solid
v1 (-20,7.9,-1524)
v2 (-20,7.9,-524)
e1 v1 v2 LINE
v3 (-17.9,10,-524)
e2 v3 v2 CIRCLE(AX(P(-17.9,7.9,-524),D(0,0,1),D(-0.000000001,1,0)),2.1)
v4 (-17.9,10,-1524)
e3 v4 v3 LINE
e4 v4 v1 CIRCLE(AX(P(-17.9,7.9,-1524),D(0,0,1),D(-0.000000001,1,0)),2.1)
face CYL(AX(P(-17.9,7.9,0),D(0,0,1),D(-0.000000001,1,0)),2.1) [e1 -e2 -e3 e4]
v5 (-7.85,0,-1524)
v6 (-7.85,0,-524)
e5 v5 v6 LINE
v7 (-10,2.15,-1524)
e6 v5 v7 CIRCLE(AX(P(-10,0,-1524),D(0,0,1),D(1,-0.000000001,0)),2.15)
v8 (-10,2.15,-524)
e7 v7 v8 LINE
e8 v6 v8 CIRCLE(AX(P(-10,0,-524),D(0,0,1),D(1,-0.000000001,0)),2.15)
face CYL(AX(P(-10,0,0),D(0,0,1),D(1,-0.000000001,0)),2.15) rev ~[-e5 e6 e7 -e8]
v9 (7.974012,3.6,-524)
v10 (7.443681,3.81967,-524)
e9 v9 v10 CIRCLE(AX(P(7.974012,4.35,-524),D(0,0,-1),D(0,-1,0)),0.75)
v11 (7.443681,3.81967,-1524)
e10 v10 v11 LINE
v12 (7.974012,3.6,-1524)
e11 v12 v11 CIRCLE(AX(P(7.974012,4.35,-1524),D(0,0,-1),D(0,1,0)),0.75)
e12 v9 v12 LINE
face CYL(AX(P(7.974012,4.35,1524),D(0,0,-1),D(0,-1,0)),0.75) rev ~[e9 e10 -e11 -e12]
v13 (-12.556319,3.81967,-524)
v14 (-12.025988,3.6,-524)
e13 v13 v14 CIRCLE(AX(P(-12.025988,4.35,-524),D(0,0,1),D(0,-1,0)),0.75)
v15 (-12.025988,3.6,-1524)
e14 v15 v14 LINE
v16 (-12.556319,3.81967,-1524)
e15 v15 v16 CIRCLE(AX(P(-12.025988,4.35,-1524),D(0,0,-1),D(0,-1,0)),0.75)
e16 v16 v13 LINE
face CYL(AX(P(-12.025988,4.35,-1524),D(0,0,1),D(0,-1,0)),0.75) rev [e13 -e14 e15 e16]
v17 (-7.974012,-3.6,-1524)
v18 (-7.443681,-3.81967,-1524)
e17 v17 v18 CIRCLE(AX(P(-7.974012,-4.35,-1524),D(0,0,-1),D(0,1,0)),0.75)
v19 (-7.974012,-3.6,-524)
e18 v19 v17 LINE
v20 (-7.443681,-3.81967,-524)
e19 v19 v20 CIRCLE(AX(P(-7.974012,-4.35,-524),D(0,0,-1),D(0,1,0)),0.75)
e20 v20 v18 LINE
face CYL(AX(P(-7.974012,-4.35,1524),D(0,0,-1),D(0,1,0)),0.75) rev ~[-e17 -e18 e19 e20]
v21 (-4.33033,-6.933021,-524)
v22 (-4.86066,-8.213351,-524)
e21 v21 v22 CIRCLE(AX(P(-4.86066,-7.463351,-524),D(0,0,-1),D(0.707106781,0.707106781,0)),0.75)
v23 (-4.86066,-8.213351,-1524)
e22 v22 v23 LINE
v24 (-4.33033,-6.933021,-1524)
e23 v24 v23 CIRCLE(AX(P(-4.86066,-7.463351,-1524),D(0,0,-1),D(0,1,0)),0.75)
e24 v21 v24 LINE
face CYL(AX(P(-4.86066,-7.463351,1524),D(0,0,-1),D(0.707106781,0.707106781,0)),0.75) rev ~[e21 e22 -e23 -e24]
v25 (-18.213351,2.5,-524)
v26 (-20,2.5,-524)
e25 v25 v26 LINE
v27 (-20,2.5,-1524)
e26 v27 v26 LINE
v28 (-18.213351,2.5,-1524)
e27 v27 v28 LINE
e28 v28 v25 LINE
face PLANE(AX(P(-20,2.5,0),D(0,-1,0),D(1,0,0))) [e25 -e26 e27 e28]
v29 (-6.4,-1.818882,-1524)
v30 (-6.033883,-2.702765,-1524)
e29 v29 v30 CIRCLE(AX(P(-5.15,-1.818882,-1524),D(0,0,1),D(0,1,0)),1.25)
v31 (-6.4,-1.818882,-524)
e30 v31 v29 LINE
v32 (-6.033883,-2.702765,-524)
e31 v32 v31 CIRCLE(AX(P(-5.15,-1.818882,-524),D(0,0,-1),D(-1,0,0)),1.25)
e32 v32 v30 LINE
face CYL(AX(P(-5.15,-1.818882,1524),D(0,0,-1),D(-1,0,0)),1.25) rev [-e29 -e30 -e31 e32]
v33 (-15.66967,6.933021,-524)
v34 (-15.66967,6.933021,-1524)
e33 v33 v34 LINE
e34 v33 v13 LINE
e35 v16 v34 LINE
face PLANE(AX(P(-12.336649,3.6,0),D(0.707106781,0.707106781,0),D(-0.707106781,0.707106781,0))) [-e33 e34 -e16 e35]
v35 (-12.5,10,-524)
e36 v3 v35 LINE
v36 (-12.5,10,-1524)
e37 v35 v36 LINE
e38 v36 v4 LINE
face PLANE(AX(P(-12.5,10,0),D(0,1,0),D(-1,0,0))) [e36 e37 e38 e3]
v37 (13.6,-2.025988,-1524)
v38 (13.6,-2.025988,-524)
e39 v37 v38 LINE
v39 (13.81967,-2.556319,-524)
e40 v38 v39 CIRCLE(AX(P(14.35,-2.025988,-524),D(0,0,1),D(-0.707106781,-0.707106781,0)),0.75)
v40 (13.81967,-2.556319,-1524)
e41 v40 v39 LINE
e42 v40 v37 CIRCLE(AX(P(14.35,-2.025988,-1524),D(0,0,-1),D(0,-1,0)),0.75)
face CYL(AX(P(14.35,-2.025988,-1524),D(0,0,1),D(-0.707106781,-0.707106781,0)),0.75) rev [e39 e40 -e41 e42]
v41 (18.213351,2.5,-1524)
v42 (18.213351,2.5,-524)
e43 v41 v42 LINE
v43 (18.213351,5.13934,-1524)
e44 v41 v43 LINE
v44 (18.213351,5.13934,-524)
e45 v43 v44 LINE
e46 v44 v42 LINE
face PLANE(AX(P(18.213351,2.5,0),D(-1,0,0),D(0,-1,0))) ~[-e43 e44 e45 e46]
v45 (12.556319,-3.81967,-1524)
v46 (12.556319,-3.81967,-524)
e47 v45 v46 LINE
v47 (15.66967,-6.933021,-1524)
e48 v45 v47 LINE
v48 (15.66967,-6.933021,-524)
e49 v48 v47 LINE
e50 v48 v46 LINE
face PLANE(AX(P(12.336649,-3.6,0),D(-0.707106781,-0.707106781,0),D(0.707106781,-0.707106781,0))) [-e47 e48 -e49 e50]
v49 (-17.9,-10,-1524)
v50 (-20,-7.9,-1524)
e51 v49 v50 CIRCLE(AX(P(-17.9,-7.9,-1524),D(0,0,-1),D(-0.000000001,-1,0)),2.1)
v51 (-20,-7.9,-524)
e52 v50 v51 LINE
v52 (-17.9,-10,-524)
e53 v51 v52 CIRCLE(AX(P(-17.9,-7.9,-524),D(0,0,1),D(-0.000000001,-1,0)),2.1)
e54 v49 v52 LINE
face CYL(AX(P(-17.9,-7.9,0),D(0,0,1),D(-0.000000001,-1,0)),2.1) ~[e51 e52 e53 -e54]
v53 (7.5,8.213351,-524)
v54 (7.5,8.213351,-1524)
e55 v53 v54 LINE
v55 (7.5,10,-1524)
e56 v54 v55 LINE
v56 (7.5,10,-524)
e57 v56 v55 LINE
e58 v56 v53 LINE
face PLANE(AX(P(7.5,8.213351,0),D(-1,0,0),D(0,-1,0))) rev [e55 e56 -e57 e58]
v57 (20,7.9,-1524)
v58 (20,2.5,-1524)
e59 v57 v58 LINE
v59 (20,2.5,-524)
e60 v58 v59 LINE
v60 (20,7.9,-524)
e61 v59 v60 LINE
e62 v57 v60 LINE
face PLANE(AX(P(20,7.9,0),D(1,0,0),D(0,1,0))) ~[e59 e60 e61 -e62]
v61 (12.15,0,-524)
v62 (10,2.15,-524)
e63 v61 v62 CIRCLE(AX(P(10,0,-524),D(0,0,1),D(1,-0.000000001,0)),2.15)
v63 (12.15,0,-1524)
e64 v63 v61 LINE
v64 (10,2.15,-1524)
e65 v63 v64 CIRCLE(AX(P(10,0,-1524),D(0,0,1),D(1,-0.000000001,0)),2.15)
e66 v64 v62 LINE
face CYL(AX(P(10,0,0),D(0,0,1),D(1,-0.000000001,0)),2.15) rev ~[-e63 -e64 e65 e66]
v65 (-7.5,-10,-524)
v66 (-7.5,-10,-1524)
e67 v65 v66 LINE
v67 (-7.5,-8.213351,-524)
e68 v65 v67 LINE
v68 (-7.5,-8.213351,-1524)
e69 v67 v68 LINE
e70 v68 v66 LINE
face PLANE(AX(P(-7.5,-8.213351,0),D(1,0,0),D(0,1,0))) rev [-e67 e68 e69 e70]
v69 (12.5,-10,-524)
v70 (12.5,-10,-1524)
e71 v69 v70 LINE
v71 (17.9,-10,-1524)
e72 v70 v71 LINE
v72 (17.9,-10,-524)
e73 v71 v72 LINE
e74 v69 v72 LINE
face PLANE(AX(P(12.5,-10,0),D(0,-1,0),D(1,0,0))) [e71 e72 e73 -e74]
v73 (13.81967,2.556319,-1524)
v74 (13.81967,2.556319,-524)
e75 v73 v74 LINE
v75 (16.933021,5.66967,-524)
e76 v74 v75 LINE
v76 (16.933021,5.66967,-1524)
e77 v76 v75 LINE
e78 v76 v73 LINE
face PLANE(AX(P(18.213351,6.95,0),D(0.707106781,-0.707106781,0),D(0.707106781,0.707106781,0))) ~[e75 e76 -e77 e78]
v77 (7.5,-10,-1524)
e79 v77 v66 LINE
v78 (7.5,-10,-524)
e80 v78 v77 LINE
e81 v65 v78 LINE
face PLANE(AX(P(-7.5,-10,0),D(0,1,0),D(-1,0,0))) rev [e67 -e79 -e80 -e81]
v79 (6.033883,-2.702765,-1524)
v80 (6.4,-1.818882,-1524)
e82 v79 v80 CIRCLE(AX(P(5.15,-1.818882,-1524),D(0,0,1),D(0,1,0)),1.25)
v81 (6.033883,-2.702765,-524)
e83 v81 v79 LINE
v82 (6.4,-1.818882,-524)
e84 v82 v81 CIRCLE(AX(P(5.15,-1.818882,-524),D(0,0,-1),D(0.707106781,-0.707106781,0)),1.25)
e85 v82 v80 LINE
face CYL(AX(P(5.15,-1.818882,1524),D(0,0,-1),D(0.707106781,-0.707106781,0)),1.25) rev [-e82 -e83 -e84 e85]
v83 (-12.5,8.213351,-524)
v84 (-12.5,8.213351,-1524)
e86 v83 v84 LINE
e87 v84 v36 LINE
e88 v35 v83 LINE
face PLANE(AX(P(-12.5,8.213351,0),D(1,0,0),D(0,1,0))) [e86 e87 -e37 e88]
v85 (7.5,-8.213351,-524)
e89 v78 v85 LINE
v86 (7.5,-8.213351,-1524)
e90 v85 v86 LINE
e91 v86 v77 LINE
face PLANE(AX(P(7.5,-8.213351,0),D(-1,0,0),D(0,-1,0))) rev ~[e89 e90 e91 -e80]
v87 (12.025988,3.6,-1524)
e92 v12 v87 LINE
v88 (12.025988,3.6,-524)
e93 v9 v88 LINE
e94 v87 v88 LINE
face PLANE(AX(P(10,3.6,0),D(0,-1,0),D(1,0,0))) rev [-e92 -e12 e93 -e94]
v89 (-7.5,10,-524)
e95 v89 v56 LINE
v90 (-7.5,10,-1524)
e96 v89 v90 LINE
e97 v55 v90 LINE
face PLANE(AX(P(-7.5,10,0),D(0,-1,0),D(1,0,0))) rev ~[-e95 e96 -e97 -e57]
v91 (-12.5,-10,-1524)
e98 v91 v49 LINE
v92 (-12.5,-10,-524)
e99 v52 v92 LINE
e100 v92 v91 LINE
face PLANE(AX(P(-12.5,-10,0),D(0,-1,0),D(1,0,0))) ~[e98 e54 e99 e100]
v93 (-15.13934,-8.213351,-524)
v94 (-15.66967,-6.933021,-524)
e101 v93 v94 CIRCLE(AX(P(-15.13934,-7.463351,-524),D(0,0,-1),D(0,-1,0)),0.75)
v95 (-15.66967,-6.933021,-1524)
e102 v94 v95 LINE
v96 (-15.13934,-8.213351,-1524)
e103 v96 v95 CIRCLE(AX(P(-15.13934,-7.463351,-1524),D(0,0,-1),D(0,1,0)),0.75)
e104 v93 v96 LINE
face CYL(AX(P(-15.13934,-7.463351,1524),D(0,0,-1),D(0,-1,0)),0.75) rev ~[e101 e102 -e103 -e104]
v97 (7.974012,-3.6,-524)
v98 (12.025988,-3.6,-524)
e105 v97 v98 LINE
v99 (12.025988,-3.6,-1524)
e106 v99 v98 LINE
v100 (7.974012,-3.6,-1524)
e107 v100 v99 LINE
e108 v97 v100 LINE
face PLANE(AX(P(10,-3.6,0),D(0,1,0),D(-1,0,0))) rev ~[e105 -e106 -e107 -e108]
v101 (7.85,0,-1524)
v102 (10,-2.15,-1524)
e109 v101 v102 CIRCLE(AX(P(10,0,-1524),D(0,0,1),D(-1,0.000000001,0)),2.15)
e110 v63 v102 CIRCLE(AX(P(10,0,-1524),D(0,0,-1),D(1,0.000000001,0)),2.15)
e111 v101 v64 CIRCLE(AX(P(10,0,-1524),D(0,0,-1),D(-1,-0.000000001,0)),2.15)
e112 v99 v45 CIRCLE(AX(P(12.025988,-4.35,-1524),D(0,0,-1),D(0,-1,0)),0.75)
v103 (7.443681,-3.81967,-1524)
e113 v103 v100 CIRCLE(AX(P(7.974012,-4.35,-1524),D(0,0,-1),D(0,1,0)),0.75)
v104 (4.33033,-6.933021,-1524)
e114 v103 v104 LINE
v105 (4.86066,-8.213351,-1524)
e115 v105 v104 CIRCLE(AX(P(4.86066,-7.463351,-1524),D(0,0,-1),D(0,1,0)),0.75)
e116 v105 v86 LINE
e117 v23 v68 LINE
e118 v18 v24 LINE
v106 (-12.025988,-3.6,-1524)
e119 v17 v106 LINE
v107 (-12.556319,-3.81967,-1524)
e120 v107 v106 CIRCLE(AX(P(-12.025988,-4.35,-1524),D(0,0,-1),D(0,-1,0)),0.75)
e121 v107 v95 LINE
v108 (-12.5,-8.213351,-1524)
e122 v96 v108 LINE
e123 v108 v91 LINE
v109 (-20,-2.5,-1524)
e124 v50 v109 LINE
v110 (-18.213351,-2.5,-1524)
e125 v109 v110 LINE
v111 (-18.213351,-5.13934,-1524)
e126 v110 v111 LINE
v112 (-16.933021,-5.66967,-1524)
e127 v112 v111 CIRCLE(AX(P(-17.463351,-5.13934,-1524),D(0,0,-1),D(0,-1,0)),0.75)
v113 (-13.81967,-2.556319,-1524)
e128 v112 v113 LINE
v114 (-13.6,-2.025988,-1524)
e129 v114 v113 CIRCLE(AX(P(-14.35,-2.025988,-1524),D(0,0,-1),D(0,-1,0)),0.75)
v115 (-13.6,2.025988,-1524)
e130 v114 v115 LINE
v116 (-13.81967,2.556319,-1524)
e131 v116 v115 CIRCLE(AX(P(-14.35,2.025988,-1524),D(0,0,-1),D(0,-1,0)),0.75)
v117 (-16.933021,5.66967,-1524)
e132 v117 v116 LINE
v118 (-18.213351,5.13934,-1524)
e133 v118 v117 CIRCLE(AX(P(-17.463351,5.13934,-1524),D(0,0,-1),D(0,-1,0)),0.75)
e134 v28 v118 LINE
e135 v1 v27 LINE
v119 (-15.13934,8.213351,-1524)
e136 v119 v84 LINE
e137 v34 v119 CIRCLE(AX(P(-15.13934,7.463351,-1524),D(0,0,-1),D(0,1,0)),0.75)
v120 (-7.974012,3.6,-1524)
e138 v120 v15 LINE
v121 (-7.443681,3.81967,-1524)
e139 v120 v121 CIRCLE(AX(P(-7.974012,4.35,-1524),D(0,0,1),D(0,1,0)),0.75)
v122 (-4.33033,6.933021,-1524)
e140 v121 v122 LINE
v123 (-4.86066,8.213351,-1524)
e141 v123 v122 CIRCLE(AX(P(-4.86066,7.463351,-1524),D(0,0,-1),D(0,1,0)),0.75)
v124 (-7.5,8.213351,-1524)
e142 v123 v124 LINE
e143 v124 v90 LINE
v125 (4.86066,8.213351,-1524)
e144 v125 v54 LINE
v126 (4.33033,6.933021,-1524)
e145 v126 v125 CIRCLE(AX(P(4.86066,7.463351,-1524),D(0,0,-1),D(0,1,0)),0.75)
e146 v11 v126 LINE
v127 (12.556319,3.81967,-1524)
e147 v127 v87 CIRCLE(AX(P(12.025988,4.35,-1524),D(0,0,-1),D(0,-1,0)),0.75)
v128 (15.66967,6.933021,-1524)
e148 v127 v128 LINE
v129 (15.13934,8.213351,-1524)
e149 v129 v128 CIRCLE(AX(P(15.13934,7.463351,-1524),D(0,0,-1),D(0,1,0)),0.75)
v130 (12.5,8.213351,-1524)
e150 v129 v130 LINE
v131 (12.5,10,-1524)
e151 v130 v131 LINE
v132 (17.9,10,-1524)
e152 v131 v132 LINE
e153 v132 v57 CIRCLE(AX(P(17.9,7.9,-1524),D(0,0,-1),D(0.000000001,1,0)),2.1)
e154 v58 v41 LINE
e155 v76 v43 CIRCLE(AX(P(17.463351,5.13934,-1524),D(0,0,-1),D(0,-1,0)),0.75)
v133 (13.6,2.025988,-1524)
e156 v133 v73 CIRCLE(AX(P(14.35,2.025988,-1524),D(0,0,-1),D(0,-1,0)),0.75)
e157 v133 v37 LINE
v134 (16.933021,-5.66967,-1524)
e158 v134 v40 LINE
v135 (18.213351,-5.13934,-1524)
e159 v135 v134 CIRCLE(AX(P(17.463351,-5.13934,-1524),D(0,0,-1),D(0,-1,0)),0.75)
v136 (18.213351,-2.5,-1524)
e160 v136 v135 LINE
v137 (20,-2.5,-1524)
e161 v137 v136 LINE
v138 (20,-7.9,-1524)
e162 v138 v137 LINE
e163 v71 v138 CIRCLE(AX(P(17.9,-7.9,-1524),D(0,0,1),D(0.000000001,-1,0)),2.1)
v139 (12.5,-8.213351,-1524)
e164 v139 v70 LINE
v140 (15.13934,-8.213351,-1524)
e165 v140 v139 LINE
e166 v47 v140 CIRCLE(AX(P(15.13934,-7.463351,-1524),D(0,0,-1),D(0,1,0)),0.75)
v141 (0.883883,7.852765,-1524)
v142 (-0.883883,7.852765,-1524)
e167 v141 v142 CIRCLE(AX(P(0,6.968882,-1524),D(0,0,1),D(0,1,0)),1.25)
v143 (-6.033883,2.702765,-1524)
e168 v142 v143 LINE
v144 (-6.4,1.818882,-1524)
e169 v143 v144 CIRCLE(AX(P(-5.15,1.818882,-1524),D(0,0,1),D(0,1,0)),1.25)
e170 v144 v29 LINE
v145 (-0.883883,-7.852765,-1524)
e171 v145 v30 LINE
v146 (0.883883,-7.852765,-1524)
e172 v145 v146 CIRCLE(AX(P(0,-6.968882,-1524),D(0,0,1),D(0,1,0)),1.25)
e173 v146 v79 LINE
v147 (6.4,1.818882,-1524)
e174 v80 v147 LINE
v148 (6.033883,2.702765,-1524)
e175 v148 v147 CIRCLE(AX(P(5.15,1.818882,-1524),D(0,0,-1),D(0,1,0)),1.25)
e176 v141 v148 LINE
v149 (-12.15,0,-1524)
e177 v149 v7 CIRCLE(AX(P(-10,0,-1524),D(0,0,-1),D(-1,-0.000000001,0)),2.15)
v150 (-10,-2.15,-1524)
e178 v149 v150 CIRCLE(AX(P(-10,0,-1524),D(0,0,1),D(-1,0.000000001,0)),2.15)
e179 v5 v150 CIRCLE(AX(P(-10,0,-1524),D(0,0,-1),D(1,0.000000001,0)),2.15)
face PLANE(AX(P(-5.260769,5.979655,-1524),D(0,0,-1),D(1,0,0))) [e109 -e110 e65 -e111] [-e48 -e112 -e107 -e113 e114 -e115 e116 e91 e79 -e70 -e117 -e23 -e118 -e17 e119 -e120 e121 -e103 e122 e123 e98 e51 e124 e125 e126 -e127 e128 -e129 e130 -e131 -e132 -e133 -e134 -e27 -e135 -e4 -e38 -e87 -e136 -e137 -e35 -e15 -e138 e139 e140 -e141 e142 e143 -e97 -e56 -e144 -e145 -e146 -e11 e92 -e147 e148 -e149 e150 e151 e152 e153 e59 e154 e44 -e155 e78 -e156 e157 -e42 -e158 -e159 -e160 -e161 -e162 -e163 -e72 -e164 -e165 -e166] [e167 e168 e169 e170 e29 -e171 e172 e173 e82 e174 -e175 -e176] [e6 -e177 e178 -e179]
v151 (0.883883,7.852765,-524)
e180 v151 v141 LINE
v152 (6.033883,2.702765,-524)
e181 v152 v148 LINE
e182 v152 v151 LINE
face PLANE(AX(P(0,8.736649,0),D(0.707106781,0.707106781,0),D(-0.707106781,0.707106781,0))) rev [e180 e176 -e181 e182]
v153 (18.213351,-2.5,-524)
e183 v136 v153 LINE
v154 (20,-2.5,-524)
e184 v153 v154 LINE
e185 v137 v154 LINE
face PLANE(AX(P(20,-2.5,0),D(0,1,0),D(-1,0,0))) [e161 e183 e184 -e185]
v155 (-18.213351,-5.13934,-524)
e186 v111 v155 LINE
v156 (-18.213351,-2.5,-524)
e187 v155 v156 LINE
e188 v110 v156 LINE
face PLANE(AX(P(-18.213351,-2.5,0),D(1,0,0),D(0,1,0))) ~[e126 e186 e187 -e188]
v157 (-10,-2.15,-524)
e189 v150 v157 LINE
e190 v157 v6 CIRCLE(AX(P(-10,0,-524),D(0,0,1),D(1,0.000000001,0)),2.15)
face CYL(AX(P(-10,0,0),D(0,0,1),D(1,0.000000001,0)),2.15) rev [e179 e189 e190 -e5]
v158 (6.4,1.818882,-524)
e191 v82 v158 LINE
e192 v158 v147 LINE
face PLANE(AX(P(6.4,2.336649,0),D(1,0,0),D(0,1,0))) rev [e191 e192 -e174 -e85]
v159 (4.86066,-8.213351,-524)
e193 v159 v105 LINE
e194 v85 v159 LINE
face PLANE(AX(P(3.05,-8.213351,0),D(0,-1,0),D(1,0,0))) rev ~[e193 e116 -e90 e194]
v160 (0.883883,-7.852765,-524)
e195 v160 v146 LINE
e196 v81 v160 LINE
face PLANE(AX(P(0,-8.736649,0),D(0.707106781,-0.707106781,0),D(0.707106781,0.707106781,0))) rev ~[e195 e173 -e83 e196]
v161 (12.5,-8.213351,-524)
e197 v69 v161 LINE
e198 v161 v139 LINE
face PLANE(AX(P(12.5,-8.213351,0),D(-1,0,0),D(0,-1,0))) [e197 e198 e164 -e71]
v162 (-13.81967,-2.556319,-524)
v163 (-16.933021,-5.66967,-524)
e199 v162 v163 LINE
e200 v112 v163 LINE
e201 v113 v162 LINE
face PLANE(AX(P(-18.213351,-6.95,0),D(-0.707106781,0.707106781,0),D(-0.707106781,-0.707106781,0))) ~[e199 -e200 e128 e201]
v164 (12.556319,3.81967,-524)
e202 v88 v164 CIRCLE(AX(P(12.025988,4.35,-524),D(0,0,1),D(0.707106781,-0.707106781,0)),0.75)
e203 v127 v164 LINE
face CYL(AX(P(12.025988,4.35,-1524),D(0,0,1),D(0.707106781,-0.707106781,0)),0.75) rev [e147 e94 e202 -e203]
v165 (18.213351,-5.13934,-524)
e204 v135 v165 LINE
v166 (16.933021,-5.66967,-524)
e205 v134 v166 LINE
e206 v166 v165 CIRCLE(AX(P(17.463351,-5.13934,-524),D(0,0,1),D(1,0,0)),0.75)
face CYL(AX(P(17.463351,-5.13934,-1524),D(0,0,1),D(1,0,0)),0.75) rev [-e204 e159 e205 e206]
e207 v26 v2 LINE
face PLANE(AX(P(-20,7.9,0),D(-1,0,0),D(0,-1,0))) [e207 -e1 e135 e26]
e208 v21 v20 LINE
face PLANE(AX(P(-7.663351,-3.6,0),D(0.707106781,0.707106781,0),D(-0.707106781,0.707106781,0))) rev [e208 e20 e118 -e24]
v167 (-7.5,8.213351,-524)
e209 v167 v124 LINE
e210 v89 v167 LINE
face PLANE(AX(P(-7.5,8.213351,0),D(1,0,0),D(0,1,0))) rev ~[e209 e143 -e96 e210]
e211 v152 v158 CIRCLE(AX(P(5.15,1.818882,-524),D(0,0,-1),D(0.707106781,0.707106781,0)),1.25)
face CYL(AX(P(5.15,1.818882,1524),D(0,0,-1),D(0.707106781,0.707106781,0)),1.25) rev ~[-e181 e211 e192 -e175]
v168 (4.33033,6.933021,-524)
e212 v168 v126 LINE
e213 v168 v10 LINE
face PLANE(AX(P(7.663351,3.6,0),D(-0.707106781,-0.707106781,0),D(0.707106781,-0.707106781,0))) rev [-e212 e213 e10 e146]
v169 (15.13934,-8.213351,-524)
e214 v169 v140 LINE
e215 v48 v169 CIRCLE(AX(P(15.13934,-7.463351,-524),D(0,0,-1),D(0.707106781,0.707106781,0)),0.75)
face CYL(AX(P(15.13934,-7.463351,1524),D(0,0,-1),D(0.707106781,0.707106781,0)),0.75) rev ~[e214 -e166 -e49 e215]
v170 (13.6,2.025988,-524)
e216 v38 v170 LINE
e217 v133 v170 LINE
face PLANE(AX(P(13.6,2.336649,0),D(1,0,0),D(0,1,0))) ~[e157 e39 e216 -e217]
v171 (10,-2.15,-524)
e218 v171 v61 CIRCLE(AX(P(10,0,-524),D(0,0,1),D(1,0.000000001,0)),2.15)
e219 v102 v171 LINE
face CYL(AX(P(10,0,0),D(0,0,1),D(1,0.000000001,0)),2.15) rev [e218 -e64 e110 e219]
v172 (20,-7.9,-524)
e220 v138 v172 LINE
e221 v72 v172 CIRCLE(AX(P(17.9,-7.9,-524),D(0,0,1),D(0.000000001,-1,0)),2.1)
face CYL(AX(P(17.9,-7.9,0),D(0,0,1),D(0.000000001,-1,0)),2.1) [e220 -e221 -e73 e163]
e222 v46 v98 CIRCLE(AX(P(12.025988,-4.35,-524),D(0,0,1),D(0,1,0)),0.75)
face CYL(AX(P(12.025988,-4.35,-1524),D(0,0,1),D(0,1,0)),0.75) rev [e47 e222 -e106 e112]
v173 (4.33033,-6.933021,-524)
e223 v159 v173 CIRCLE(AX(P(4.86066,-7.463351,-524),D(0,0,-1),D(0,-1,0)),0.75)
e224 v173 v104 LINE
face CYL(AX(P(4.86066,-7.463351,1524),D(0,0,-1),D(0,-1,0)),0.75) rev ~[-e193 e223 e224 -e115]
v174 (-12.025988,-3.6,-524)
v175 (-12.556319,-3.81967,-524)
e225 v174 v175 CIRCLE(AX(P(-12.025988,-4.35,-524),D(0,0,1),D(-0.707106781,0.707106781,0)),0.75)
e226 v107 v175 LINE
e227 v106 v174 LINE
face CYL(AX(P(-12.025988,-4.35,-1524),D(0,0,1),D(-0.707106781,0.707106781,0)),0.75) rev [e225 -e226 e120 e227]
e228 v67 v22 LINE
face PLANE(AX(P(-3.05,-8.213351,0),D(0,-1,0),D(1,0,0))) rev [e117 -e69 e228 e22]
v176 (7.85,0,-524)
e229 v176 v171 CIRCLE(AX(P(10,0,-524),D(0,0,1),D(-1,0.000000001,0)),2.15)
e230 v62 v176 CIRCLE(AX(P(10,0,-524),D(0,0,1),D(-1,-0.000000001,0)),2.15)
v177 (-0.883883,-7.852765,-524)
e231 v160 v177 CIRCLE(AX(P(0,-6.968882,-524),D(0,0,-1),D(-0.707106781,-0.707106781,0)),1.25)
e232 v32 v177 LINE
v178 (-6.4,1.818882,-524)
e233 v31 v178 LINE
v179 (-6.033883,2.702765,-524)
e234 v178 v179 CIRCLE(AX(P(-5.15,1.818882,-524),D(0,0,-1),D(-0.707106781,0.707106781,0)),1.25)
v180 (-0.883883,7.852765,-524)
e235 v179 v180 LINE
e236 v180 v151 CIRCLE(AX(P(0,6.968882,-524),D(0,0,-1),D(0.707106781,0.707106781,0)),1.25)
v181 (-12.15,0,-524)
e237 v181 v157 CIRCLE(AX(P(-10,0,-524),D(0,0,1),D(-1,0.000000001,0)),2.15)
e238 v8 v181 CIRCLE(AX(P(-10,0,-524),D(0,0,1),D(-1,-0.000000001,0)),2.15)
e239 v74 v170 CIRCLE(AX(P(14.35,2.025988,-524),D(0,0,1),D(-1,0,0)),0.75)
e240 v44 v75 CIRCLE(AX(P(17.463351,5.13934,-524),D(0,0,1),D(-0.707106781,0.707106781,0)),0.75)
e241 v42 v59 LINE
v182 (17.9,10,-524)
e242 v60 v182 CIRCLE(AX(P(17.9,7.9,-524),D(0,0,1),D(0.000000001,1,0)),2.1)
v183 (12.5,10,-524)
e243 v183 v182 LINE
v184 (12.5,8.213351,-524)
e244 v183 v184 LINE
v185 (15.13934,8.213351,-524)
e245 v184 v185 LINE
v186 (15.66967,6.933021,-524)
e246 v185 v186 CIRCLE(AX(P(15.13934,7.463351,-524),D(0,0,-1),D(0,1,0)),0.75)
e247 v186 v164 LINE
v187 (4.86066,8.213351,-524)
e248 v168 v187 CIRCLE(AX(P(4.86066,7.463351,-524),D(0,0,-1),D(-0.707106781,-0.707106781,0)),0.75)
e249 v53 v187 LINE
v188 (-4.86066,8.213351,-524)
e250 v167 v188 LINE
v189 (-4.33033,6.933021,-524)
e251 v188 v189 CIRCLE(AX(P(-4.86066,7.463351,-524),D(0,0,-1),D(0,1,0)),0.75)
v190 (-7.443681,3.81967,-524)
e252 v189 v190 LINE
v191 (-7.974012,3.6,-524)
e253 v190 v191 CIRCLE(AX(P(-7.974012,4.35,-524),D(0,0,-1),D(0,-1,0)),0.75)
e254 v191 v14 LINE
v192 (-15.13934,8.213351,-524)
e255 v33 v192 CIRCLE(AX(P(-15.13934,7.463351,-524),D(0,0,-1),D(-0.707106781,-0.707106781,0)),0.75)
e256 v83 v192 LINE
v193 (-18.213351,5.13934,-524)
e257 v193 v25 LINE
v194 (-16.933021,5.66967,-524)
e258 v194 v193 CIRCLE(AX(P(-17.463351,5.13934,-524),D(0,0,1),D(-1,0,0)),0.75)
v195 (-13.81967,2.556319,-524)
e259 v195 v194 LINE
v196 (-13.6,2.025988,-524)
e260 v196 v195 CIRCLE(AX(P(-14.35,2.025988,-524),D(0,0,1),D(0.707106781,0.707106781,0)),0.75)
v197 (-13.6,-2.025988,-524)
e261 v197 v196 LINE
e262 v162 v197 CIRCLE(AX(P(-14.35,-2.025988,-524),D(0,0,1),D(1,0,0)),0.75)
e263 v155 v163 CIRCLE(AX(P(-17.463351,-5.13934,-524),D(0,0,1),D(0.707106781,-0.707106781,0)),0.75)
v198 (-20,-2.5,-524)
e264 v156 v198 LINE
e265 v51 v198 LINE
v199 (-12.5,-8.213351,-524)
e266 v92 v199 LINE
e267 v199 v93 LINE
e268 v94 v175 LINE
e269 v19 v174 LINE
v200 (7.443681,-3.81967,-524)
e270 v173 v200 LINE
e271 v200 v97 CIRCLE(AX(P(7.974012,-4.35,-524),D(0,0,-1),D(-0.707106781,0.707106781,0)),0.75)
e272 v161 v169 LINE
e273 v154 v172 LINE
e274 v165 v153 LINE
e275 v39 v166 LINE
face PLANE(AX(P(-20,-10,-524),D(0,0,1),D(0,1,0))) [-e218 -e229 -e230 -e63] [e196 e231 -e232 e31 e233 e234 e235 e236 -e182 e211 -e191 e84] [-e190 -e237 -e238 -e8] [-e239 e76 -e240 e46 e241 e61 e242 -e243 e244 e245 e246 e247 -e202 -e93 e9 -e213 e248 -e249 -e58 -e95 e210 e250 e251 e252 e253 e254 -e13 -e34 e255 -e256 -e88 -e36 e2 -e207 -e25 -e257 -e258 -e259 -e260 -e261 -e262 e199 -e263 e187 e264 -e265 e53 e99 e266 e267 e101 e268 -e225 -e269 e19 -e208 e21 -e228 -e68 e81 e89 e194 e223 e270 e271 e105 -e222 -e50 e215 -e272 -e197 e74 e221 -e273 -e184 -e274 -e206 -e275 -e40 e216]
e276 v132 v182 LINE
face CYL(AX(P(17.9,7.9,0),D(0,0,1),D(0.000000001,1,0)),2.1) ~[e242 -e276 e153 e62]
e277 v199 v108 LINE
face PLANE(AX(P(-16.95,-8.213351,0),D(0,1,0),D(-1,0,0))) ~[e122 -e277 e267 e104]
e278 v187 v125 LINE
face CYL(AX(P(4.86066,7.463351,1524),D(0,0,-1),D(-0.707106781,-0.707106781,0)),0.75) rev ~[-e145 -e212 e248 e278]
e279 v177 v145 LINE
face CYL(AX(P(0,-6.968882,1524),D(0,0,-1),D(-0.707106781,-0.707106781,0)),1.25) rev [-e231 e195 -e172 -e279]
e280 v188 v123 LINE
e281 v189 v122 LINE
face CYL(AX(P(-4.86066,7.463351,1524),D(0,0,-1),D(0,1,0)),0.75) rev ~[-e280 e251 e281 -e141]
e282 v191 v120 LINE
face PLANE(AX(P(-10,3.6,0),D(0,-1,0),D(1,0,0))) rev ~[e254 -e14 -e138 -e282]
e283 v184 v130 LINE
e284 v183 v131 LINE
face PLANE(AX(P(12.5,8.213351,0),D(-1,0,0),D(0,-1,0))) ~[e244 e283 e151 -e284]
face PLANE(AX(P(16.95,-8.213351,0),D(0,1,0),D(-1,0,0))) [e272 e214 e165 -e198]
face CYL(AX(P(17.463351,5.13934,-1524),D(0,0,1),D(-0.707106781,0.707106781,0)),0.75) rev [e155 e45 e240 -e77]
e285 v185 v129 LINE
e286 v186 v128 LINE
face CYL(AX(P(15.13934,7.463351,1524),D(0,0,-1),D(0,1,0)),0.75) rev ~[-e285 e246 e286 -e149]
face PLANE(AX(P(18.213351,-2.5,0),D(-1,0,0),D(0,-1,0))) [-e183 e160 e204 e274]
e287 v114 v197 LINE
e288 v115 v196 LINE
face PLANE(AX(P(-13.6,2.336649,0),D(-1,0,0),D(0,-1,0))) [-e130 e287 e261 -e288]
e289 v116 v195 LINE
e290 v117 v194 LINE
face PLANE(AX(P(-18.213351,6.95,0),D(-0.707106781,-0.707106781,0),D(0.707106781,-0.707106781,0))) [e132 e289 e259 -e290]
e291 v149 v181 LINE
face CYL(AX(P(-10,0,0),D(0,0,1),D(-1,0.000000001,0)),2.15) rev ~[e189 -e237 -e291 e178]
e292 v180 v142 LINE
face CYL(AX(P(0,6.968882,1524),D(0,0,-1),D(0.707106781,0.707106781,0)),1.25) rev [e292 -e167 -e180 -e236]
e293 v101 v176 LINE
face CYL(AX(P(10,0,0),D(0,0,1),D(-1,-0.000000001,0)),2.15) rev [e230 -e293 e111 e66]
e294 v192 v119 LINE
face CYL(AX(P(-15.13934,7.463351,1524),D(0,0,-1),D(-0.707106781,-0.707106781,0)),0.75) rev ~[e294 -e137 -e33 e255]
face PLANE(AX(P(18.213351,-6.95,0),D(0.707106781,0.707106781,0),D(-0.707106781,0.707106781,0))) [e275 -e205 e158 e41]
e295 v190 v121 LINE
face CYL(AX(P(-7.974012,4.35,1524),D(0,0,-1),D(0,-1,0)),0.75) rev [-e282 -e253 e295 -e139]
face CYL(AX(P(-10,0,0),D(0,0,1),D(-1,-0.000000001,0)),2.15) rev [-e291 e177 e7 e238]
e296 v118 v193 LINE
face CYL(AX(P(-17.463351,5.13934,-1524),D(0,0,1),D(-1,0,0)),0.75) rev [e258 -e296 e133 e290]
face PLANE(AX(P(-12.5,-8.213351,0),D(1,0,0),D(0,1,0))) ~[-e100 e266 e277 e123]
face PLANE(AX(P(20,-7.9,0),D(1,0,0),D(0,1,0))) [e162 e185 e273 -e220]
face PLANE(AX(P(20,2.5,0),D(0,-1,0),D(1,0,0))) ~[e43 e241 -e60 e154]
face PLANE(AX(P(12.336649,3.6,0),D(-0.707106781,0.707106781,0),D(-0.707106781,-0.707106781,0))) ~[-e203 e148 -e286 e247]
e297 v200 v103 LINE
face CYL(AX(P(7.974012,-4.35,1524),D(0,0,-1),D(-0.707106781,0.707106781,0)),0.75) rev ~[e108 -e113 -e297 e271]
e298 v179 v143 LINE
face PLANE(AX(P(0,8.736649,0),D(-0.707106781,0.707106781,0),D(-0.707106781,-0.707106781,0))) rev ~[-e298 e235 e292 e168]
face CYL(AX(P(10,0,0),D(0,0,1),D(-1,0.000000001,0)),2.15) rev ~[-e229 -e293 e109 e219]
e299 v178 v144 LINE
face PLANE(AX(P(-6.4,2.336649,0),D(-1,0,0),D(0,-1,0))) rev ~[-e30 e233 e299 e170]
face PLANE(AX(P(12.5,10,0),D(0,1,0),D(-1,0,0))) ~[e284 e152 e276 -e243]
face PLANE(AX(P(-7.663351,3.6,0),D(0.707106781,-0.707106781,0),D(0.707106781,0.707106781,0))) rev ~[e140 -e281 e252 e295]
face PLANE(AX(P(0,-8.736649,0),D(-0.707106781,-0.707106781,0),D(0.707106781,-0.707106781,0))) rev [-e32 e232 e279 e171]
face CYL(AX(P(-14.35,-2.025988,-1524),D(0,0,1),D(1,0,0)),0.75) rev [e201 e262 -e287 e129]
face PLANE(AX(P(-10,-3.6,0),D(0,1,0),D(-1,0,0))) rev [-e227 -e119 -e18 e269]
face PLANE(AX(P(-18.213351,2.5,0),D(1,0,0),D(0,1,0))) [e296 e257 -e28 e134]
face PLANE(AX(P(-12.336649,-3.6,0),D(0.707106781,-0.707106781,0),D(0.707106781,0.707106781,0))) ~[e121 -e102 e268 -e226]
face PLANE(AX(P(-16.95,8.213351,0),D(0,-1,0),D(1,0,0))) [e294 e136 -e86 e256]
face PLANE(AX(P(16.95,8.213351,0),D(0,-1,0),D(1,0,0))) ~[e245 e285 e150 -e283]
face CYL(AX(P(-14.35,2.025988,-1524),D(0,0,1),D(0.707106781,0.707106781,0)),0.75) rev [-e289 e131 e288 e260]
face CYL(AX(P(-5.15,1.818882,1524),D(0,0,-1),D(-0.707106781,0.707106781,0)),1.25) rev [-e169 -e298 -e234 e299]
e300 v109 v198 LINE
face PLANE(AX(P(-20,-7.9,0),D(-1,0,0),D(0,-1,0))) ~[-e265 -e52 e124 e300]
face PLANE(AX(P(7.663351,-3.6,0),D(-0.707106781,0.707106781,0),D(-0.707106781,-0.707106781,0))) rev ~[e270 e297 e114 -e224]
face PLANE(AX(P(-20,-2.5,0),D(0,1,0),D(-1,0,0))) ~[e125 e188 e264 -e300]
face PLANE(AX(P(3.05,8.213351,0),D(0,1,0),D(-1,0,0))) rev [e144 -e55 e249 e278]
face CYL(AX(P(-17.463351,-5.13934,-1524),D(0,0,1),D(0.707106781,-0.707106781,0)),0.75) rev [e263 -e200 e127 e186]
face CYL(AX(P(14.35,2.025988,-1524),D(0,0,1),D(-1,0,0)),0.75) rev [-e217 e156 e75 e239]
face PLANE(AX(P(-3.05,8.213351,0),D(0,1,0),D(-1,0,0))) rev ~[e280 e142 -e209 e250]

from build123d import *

# Parameters (mm, degrees)
BOSS_EXTRUDE1_DEPTH = 1524
BOSS_EXTRUDE2_DEPTH = 1524
FILLET1_R           = 0.75
FILLET2_R           = 1.25
SKETCH5_W           = 2048
SKETCH5_H           = 20
CUT_EXTRUDE1_DEPTH  = 1525.55764076


with BuildPart() as part:
    # Sketch3 → Boss-Extrude1 (new, symmetric)
    with BuildSketch(Plane.XY):
        with BuildLine():
            Line((12.5, -10), (17.9, -10))
            ThreePointArc((17.9, -10), (19.38492424, -9.38492424), (20, -7.9))
            Line((20, -7.9), (20, -2.5))
            Line((20, -2.5), (18.213351365, -2.5))
            Line((18.213351365, -2.5), (18.213351365, -6.95))
            Line((18.213351365, -6.95), (13.6, -2.336648635))
            Line((13.6, -2.336648635), (13.6, 0))
            Line((13.6, 0), (12.15, 0))
            ThreePointArc((12.15, 0), (11.52027958, -1.52027958), (10, -2.15))
            Line((10, -2.15), (10, -3.6))
            Line((10, -3.6), (12.336648635, -3.6))
            Line((12.336648635, -3.6), (16.95, -8.213351365))
            Line((16.95, -8.213351365), (12.5, -8.213351365))
            Line((12.5, -8.213351365), (12.5, -10))
        make_face()
    extrude(amount=BOSS_EXTRUDE1_DEPTH, both=True)

    # Sketch4 → Boss-Extrude2 (add, symmetric)
    with BuildSketch(Plane.XY):
        with BuildLine():
            Line((10, -3.6), (7.663351365, -3.6))
            Line((7.663351365, -3.6), (3.05, -8.213351365))
            Line((3.05, -8.213351365), (7.5, -8.213351365))
            Line((7.5, -8.213351365), (7.5, -10))
            Line((7.5, -10), (0, -10))
            Line((0, -10), (0, -8.736648635))
            Line((0, -8.736648635), (6.4, -2.336648635))
            Line((6.4, -2.336648635), (6.4, 0))
            Line((6.4, 0), (7.85, 0))
            ThreePointArc((7.85, 0), (8.47972042, -1.52027958), (10, -2.15))
            Line((10, -2.15), (10, -3.6))
        make_face()
    extrude(amount=BOSS_EXTRUDE2_DEPTH, both=True)

    # Mirror1: part across plane


with BuildPart() as part_1:
    add(part.part)
    add(part.part.mirror(Plane(origin=(0, 0, 0), x_dir=(0, 0, 1), z_dir=(1, 0, 0))))

    # Mirror2: part across plane


with BuildPart() as part_2:
    add(part_1.part)
    add(part_1.part.mirror(Plane.ZX))

    # Fillet1
    fillet1_edges = [part_2.edges().sort_by_distance(p)[0] for p in [
        (18.213351365, 6.95, 0),
        (13.6, 2.336648635, 0),
        (12.336648635, 3.6, 0),
        (16.95, 8.213351365, 0),
        (3.05, 8.213351365, 0),
        (7.663351365, 3.6, 0),
        (-18.213351365, 6.95, 0),
        (-13.6, 2.336648635, 0),
        (-7.663351365, 3.6, 0),
        (-12.336648635, 3.6, 0),
        (-16.95, 8.213351365, 0),
        (-3.05, 8.213351365, 0),
        (16.95, -8.213351365, 0),
        (12.336648635, -3.6, 0),
        (13.6, -2.336648635, 0),
        (18.213351365, -6.95, 0),
        (3.05, -8.213351365, 0),
        (7.663351365, -3.6, 0),
        (-18.213351365, -6.95, 0),
        (-13.6, -2.336648635, 0),
        (-12.336648635, -3.6, 0),
        (-16.95, -8.213351365, 0),
        (-3.05, -8.213351365, 0),
        (-7.663351365, -3.6, 0),
    ]]
    fillet(fillet1_edges, radius=FILLET1_R)

    # Fillet2
    fillet2_edges = [part_2.edges().sort_by_distance(p)[0] for p in [
        (6.4, 2.336648635, 0),
        (0, 8.736648635, 0),
        (-6.4, 2.336648635, 0),
        (6.4, -2.336648635, 0),
        (-6.4, -2.336648635, 0),
        (0, -8.736648635, 0),
    ]]
    fillet(fillet2_edges, radius=FILLET2_R)

    # Sketch5 → Cut-Extrude1 (cut, through all)
    with BuildSketch(Plane.ZY.offset(20)):
        with Locations((500, 0)):
            Rectangle(SKETCH5_W, SKETCH5_H)
    extrude(amount=-CUT_EXTRUDE1_DEPTH, mode=Mode.SUBTRACT)


solid = part_2.part
